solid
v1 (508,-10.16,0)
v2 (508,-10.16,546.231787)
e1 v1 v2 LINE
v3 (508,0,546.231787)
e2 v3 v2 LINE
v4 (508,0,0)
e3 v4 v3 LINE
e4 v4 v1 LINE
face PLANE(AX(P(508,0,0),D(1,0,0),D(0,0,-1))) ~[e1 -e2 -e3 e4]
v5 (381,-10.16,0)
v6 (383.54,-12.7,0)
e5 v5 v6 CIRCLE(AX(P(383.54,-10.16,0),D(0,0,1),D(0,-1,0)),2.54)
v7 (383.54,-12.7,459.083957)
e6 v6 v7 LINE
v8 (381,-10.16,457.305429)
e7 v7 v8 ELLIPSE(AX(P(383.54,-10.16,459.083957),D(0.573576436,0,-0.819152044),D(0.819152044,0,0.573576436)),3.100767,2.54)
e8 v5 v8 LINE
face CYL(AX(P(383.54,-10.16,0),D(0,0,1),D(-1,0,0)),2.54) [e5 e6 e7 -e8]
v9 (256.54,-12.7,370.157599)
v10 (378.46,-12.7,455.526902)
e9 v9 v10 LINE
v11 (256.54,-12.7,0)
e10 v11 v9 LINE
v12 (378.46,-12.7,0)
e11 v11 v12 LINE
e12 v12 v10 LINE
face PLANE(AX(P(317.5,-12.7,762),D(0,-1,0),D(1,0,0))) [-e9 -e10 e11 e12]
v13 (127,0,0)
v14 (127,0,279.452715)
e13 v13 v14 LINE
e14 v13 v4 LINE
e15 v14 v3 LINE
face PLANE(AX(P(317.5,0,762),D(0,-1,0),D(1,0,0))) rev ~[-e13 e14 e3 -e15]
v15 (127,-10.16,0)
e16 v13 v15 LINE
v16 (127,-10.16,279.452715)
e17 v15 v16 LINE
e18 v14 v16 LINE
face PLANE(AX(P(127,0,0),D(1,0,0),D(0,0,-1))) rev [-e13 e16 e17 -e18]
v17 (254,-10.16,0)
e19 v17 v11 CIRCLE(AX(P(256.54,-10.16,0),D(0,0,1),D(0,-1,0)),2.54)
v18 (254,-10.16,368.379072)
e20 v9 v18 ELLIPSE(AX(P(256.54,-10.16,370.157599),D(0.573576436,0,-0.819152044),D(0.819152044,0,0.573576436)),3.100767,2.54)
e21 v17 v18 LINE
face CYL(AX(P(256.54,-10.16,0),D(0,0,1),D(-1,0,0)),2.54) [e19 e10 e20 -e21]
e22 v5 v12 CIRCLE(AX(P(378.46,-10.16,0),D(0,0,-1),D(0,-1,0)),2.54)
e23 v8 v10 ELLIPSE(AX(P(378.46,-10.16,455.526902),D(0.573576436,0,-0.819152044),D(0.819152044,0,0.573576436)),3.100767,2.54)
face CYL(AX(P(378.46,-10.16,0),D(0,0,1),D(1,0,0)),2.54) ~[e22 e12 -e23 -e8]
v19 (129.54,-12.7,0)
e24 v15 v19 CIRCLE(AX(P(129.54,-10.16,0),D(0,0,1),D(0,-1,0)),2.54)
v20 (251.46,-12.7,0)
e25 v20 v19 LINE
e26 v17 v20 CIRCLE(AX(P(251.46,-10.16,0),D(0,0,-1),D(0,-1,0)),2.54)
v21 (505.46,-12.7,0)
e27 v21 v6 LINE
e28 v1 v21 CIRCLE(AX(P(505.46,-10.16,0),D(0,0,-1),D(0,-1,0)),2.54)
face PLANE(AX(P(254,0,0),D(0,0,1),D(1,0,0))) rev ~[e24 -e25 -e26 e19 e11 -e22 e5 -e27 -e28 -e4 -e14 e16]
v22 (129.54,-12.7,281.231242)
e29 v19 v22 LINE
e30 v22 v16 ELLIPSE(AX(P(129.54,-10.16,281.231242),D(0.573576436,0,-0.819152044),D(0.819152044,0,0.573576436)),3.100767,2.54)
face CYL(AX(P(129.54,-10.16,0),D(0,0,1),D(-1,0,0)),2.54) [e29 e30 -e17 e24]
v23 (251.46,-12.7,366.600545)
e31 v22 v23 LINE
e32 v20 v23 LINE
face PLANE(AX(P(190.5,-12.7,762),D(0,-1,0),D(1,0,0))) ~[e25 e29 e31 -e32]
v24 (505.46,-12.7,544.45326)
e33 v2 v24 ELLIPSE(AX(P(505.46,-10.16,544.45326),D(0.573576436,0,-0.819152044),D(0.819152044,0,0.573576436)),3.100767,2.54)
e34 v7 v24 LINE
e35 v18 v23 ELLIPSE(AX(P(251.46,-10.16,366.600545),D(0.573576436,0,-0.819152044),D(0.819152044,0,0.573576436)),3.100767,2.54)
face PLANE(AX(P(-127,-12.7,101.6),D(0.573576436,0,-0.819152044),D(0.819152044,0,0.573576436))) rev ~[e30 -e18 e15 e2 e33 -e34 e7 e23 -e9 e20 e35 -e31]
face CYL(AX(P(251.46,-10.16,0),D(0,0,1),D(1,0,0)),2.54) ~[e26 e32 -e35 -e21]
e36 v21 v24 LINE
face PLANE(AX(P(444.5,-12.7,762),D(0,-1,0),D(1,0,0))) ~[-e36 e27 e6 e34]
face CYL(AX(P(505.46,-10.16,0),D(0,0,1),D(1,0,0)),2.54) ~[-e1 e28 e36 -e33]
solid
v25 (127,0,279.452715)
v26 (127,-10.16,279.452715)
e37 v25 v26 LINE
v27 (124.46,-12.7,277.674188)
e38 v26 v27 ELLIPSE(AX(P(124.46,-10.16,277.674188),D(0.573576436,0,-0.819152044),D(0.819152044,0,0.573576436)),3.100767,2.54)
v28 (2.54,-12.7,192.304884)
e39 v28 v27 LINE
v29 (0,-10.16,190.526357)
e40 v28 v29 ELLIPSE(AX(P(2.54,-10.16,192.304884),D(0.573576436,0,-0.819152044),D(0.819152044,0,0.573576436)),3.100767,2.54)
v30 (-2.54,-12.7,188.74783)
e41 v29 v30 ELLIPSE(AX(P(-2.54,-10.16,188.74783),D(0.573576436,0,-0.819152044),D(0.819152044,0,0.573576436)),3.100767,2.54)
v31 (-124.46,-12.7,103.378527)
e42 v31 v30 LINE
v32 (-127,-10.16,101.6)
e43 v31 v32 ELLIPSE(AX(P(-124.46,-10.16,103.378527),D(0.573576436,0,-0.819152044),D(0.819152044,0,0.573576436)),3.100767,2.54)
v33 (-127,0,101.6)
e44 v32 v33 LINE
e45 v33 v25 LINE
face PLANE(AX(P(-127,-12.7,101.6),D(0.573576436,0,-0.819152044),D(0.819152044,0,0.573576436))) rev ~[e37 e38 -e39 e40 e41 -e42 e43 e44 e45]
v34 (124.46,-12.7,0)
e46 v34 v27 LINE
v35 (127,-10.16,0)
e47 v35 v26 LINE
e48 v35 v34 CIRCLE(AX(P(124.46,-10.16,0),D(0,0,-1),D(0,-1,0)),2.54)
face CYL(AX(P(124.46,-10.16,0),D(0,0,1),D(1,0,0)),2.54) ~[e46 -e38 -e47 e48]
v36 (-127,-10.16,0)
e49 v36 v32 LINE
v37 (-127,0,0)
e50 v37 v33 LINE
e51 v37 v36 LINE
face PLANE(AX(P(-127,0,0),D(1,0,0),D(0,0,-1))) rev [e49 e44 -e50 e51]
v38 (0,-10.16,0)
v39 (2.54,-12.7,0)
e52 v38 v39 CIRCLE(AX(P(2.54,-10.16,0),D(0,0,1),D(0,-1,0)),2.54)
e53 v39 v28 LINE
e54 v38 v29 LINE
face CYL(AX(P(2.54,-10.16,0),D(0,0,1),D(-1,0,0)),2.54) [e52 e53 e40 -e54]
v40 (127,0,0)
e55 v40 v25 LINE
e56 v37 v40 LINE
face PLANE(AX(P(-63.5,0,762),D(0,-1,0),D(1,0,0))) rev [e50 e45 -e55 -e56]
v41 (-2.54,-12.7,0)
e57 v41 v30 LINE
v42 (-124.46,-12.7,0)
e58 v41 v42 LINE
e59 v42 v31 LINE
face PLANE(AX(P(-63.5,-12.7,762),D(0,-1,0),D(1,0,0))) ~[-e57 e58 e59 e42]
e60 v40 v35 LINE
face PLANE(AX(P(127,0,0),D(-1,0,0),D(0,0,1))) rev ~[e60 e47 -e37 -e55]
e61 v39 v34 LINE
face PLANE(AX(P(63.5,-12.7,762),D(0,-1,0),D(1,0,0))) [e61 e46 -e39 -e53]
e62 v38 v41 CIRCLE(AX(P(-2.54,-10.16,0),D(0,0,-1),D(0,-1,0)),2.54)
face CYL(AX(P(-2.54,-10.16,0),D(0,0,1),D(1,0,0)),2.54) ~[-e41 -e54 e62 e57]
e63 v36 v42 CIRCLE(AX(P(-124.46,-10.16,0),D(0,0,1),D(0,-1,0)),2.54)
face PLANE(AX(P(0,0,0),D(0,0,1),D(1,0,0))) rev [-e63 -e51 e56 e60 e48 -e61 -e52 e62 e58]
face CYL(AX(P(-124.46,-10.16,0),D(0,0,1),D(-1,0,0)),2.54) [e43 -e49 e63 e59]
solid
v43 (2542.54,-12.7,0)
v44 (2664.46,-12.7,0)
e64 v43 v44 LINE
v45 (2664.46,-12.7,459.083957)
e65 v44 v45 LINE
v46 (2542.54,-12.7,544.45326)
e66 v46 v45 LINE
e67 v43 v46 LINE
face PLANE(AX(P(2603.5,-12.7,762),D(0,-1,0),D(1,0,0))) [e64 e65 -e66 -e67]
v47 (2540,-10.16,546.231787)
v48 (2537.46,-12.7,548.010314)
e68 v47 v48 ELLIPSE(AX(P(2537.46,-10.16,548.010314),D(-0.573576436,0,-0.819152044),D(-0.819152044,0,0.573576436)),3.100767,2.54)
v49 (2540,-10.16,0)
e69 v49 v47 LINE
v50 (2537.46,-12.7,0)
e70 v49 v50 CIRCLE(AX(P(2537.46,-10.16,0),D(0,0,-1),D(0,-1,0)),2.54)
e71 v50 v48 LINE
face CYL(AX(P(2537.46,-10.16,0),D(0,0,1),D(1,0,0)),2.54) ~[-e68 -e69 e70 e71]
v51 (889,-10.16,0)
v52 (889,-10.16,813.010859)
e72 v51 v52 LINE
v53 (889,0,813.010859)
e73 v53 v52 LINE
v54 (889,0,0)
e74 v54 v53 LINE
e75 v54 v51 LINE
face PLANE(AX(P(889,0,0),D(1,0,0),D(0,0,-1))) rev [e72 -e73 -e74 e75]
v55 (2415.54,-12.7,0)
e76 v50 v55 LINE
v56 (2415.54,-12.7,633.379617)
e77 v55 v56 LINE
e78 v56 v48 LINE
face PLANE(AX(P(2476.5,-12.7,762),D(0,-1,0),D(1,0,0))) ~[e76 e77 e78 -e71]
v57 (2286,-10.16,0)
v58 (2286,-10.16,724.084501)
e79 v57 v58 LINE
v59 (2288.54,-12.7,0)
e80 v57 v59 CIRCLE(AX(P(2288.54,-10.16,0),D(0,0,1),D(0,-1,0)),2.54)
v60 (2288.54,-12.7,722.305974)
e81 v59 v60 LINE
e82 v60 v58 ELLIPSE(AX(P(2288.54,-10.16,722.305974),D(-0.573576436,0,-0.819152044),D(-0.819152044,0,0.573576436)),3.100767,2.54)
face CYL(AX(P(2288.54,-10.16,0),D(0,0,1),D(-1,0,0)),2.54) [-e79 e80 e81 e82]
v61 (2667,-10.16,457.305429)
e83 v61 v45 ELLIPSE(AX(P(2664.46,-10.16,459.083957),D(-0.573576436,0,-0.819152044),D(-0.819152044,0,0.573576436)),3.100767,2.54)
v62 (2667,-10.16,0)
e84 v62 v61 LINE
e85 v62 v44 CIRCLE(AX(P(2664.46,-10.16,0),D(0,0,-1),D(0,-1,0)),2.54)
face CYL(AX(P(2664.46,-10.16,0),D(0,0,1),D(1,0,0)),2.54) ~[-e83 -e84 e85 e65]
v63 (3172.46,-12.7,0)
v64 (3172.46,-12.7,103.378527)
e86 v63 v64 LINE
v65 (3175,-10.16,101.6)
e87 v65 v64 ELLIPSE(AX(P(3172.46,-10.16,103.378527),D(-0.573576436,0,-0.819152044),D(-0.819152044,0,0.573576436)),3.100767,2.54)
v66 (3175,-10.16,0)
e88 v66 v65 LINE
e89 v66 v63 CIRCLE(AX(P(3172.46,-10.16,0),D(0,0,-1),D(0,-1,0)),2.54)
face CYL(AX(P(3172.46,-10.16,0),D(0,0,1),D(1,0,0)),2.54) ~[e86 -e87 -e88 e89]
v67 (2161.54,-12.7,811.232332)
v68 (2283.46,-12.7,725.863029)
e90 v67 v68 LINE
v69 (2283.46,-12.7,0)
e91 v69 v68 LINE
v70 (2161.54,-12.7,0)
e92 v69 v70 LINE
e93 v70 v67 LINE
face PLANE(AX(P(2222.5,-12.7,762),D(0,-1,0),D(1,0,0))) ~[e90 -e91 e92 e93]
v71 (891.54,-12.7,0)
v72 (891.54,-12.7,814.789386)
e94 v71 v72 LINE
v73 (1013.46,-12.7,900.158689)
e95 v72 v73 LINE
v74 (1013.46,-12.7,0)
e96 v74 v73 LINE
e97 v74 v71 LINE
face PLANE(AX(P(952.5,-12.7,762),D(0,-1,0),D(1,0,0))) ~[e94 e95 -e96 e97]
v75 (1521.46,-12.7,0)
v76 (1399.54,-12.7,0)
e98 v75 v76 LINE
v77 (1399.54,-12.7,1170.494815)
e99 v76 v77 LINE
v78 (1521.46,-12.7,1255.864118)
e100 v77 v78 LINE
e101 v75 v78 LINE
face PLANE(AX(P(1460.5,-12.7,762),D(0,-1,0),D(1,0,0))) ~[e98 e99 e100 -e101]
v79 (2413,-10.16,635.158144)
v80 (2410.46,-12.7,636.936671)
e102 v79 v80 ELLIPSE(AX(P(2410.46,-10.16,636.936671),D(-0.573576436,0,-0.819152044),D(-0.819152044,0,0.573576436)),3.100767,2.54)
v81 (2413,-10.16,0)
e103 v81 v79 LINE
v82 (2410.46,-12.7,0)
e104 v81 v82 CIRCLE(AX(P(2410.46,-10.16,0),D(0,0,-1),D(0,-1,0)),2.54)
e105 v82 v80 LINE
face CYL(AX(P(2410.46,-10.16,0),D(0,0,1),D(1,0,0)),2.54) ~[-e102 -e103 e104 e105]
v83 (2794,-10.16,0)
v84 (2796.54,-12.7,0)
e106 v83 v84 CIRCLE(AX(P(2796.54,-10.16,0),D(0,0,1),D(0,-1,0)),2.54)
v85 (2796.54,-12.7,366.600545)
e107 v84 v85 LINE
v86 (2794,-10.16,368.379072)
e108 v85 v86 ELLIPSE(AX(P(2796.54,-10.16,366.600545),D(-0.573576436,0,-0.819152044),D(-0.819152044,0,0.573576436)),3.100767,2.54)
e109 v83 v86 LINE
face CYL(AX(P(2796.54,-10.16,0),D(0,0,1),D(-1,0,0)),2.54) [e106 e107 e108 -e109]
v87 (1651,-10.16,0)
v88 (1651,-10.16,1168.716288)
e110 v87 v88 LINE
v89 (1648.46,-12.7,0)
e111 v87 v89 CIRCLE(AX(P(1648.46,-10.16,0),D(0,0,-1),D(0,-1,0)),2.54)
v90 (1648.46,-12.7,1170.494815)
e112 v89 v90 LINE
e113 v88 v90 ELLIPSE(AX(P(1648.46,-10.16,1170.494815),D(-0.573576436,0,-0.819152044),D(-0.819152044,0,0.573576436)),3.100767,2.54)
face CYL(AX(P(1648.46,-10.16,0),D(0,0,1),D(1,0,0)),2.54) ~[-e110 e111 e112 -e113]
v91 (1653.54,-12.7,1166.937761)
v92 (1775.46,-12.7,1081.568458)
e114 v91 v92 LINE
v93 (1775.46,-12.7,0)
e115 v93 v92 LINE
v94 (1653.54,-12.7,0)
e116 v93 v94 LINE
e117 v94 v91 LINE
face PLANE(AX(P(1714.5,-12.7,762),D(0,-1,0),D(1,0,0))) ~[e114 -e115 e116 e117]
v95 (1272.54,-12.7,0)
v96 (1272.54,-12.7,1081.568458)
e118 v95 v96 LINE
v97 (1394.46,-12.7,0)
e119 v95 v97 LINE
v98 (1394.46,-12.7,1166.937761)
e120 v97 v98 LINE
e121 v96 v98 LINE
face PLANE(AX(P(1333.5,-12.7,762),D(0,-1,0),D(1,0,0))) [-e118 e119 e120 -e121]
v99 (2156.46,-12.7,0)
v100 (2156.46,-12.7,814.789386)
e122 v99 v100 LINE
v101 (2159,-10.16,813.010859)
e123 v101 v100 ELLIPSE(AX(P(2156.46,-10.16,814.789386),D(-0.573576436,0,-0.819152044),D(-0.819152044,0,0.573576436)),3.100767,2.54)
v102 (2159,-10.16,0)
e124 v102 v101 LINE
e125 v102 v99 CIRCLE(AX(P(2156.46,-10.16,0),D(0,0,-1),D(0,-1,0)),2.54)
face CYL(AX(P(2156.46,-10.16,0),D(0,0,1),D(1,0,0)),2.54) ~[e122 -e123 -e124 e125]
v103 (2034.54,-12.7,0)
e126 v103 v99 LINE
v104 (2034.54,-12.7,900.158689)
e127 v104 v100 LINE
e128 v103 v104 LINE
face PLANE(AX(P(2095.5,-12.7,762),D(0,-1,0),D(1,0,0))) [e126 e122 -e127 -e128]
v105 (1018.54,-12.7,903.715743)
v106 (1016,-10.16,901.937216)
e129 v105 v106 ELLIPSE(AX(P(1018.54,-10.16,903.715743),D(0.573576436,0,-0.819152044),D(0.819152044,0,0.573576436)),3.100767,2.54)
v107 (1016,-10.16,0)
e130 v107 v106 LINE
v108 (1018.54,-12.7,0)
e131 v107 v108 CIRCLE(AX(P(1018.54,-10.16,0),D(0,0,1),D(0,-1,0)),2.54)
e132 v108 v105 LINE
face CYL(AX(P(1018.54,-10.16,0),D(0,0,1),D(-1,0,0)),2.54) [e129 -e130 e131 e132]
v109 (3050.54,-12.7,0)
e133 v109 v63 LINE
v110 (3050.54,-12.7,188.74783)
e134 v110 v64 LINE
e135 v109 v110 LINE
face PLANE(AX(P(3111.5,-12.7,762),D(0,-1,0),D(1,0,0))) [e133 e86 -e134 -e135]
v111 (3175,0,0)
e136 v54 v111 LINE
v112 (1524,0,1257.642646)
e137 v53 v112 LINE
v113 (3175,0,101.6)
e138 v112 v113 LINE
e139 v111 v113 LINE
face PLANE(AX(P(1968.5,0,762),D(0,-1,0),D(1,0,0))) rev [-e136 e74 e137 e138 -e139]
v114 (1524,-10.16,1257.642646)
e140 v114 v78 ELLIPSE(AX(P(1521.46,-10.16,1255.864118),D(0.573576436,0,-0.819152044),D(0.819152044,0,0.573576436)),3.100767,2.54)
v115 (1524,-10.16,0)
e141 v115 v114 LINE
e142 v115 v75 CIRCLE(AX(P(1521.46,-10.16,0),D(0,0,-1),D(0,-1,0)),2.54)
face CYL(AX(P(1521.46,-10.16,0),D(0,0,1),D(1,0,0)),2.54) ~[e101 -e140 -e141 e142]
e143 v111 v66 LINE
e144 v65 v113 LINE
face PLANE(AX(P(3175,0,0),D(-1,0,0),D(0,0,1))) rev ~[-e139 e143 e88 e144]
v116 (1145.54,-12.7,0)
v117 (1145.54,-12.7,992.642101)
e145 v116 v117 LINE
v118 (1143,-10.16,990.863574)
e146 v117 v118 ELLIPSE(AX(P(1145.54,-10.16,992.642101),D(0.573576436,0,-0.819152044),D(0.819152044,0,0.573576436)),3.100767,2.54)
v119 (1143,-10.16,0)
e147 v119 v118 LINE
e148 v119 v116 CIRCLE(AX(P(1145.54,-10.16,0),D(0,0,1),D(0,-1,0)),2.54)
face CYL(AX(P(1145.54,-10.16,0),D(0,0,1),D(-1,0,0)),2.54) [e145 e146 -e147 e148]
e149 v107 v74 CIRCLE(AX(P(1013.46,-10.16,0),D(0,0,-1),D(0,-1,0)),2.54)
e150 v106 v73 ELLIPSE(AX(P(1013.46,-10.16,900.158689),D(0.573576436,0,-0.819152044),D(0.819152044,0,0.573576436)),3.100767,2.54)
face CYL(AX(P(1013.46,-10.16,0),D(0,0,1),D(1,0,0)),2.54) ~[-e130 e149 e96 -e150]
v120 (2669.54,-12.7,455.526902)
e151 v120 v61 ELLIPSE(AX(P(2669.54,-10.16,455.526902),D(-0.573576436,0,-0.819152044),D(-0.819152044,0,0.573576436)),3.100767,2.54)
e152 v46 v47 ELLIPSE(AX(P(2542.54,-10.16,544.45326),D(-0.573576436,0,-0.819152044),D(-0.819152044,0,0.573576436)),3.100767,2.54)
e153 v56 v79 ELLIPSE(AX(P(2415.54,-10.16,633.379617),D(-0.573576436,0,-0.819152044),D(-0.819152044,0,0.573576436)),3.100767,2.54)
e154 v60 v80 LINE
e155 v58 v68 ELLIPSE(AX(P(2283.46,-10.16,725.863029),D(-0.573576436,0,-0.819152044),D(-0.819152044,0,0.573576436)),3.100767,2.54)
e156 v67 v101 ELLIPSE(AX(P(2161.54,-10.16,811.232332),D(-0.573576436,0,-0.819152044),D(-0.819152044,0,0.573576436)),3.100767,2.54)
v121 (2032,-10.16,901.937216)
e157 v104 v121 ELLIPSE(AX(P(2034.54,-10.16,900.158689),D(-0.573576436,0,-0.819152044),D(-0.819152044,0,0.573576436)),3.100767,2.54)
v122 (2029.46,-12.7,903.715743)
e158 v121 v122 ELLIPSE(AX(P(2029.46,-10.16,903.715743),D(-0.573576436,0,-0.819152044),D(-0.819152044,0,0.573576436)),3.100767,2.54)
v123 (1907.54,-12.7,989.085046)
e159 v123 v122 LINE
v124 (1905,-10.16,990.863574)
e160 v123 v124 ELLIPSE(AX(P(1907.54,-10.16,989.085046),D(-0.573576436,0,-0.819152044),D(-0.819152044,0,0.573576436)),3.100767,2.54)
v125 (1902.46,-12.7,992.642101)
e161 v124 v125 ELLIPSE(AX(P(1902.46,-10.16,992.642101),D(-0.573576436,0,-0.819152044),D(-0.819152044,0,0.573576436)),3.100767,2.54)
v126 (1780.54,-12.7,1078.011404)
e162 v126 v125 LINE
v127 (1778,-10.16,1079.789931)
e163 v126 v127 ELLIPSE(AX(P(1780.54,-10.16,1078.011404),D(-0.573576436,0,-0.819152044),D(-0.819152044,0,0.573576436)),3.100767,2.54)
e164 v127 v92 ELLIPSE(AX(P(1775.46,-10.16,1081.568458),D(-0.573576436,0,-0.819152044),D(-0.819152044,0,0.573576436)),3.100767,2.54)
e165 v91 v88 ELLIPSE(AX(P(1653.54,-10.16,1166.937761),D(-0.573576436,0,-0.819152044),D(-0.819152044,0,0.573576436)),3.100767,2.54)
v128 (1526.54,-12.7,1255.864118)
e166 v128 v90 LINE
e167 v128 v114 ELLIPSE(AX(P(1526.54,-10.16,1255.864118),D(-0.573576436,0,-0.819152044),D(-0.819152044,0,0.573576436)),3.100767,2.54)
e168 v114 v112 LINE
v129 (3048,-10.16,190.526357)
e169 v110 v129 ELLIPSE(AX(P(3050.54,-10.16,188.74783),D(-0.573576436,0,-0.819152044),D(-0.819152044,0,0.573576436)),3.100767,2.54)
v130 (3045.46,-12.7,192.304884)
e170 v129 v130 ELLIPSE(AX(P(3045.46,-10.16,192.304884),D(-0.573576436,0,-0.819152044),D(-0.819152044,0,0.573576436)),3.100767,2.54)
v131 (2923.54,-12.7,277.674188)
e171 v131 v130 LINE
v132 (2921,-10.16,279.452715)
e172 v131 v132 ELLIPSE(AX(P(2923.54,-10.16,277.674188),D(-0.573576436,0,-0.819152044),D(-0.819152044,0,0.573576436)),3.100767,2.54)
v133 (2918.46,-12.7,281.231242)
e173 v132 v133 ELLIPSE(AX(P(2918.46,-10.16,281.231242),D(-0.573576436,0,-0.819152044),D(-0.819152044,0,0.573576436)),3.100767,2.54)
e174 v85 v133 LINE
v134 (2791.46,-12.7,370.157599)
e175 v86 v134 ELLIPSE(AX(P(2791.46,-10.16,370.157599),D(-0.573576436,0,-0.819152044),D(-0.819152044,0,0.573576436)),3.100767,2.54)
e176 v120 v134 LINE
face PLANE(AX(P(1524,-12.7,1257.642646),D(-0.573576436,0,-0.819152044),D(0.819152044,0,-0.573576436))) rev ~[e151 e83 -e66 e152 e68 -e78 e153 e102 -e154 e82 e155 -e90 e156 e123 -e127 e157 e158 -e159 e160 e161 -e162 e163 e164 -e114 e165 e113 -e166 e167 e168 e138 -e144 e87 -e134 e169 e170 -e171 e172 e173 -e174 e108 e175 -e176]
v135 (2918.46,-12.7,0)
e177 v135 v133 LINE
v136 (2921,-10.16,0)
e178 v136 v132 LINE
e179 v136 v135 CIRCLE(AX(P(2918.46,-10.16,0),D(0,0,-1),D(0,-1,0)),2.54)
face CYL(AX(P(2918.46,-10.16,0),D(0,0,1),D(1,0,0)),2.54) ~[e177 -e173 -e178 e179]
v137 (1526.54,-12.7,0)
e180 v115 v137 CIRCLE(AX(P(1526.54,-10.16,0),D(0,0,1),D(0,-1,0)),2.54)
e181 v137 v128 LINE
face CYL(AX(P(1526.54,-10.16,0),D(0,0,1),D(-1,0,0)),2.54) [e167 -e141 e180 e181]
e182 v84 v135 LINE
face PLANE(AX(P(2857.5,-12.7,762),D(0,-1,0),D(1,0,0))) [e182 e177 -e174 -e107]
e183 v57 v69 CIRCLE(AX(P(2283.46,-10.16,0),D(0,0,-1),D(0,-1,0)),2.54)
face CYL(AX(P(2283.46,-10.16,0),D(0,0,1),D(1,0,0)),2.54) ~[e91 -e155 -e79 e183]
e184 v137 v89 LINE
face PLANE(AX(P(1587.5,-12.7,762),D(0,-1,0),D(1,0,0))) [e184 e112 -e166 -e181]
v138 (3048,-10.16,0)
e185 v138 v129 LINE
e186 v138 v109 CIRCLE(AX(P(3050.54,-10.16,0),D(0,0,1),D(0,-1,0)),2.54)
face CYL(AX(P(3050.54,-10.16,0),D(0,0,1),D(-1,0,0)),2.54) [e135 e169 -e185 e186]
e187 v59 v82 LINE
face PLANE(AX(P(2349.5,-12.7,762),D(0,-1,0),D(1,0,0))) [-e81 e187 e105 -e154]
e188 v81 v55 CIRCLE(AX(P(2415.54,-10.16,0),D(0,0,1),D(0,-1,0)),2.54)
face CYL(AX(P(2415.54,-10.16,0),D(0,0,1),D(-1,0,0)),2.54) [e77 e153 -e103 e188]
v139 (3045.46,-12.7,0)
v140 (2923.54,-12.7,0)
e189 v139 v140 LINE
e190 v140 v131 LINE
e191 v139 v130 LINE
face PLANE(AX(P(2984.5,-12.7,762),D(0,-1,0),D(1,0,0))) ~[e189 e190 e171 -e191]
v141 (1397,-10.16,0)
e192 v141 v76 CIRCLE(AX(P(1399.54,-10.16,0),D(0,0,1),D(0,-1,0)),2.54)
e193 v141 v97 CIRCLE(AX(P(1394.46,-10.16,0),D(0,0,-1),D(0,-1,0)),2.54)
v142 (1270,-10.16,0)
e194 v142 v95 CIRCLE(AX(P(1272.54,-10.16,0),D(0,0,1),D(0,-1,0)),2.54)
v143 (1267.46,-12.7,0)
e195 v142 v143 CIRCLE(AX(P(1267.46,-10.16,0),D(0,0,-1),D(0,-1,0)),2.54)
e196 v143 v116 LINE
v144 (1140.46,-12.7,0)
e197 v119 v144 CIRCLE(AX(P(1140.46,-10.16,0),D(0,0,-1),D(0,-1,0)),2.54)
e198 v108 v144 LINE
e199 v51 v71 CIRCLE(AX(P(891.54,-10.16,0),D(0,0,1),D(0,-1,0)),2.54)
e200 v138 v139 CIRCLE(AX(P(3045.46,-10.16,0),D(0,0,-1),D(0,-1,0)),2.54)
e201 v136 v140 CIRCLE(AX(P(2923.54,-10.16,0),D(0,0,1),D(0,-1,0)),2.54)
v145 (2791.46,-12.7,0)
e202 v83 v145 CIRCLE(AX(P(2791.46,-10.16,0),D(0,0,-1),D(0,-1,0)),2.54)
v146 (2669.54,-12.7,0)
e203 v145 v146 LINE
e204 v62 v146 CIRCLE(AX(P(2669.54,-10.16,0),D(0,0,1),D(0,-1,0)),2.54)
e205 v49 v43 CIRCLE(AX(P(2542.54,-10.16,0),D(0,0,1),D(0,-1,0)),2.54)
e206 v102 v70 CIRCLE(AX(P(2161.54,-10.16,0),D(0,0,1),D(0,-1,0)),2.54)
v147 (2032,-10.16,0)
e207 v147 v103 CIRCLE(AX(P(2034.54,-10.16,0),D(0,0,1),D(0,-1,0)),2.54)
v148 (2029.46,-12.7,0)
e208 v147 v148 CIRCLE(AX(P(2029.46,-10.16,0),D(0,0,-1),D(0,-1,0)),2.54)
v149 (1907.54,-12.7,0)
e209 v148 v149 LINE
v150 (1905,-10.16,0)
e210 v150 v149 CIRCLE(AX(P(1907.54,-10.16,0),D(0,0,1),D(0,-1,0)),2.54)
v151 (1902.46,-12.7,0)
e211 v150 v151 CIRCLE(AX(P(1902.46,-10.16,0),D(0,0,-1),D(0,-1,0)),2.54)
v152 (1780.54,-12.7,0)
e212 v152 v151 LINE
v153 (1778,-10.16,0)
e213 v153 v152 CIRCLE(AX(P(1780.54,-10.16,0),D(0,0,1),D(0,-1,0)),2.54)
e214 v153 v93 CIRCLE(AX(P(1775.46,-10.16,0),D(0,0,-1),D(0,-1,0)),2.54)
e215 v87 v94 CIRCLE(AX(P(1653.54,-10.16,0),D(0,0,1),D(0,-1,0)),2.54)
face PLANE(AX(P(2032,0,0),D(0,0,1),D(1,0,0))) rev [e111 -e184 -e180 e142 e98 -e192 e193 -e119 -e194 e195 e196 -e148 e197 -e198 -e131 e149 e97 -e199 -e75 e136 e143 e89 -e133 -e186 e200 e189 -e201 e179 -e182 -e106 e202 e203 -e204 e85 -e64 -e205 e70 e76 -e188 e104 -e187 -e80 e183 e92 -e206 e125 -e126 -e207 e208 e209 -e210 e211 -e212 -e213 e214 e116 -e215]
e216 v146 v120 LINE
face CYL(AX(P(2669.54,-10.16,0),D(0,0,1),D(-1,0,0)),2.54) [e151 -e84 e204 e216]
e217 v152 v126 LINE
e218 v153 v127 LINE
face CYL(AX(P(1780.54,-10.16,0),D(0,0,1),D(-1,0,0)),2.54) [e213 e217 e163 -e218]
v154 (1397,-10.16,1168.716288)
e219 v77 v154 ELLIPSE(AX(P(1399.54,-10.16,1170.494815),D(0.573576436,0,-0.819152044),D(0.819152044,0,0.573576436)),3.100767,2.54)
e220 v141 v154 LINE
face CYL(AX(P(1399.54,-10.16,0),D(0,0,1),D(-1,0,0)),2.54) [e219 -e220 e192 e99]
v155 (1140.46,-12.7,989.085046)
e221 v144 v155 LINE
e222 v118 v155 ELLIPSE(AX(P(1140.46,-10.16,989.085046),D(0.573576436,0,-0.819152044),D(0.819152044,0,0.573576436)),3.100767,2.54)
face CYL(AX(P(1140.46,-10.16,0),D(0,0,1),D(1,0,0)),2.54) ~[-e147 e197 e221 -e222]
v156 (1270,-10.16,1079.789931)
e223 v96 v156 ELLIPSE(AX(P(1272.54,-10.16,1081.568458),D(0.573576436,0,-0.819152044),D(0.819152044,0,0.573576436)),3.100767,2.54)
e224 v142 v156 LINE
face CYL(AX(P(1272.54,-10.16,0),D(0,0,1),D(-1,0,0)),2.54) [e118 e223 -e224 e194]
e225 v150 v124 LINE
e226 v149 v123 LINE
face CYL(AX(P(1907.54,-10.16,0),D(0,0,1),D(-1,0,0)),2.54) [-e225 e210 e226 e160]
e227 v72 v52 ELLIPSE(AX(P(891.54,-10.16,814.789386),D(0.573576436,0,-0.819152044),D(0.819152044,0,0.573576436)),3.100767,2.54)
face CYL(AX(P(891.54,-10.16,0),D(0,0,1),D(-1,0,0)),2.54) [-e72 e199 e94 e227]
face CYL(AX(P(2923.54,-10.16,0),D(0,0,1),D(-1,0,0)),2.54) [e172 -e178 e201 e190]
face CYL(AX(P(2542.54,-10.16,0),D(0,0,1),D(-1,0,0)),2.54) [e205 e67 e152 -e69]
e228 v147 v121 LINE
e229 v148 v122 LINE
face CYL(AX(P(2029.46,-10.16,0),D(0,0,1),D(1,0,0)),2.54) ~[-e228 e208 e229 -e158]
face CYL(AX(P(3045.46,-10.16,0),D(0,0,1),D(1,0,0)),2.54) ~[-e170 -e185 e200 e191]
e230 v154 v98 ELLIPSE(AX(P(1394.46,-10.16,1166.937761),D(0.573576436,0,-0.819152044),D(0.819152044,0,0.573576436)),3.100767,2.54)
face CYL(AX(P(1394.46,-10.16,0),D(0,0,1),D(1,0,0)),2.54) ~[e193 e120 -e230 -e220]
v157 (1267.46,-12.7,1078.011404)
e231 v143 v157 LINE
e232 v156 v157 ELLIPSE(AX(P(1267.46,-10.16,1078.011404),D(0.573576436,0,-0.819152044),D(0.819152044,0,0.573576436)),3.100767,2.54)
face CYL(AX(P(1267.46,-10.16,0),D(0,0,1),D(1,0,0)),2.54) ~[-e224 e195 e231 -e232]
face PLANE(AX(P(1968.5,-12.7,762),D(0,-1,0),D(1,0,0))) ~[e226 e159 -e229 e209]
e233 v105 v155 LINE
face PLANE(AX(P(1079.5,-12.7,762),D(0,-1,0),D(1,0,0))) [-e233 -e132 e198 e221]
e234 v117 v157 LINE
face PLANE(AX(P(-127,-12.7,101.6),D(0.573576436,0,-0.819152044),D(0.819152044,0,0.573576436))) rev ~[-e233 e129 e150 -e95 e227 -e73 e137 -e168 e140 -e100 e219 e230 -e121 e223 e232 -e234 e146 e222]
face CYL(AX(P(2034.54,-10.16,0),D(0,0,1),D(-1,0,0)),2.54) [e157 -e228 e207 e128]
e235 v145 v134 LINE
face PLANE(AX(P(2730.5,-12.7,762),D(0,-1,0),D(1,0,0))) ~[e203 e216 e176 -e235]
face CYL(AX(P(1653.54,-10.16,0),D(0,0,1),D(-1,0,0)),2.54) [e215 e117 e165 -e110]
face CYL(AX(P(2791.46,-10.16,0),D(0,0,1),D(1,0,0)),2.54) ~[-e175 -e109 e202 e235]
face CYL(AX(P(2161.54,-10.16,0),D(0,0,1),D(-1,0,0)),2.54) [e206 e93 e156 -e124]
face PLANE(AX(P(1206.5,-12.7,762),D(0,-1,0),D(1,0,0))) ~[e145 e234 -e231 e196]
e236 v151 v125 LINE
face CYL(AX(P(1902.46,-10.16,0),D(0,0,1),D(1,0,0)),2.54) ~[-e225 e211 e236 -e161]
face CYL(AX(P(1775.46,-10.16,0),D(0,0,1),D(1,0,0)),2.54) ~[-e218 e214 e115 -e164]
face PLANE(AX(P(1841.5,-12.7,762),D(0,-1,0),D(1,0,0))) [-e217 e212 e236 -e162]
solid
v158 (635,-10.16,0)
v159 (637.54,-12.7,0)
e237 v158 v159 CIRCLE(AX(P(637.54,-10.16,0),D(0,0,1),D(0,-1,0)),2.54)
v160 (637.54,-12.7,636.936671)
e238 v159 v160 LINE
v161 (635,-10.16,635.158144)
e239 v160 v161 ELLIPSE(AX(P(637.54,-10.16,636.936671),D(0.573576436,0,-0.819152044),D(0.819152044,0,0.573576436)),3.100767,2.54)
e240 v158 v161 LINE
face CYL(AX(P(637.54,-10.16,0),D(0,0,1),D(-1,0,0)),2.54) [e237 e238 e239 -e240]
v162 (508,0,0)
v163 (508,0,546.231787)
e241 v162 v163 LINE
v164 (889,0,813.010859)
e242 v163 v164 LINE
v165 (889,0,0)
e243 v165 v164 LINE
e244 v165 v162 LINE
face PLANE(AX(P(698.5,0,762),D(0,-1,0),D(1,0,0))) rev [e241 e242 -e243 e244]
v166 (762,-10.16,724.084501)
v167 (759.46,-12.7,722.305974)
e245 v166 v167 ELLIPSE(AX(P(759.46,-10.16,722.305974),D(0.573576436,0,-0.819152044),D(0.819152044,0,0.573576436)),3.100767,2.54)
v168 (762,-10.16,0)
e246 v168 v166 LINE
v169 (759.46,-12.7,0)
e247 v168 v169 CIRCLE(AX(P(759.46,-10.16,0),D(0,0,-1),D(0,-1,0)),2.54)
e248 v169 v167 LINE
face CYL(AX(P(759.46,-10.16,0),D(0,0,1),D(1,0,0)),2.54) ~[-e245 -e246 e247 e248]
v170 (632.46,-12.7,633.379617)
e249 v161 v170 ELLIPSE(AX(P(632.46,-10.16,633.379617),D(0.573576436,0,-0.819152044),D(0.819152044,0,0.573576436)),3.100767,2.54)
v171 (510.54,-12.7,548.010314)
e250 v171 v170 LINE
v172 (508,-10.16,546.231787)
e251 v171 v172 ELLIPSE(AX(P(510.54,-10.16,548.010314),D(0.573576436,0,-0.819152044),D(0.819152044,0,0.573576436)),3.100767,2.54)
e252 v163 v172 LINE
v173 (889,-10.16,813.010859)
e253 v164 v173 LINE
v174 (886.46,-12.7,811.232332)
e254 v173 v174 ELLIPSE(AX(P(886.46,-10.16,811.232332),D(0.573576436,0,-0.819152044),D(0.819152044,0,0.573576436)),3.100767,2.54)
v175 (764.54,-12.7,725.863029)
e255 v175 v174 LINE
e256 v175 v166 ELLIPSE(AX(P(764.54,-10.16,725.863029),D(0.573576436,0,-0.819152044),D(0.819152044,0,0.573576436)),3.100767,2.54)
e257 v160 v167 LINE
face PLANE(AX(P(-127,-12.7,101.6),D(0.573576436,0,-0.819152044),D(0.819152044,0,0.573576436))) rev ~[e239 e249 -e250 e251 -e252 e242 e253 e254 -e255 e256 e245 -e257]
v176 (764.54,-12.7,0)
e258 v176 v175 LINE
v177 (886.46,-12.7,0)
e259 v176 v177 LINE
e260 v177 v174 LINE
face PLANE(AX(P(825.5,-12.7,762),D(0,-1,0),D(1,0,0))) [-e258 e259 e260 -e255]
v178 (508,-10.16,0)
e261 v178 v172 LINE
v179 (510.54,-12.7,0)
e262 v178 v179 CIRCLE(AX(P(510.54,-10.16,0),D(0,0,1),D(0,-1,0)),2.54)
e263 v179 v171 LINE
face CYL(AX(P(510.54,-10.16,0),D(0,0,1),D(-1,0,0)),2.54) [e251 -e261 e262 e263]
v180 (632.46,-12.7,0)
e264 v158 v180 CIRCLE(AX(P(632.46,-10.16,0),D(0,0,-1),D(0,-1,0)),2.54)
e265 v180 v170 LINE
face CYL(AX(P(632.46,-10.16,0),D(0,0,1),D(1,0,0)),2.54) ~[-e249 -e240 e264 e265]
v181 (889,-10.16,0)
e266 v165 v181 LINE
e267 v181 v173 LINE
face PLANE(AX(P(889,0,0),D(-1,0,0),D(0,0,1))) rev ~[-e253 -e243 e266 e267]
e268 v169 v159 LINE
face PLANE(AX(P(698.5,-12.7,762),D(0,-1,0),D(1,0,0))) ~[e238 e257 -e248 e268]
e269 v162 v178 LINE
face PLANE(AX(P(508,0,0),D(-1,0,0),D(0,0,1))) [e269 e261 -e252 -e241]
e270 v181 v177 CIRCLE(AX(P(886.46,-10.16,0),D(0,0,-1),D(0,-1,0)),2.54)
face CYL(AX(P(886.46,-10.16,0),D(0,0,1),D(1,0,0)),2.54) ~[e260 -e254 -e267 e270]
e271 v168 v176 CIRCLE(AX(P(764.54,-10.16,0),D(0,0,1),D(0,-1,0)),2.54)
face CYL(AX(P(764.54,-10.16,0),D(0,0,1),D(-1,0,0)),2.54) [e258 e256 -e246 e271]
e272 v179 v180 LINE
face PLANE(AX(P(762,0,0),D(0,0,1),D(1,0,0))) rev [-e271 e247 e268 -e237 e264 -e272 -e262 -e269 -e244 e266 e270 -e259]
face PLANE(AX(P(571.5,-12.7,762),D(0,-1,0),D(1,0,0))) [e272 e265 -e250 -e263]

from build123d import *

# Parameters (mm, degrees)
F0_W      = 127
F0_H      = 1524
F1_DEPTH  = 12.7
F2_R      = 2.54
F10_DEPTH = 12.7


with BuildPart() as f1:
    # F0 (on Front) → F1 (new body)
    with BuildSketch(Plane.XZ):
        with Locations((63.5, 762)):
            Rectangle(F0_W, F0_H)
    extrude(amount=F1_DEPTH)

    # F2
    f2_edges = [f1.edges().sort_by_distance(p)[0] for p in [
        (0, -12.7, 762),
        (127, -12.7, 762),
    ]]
    fillet(f2_edges, radius=F2_R)


with BuildPart() as f3_1:
    # F3: instance of F1
    add(f1.part.mirror(Plane(origin=(127, -5.08, 762), x_dir=(0, 1, 0), z_dir=(1, 0, 0))))



with BuildPart() as f3_1_1:
    add(f3_1.part)
    # F4: F1, F3_1 across face
    add(f1.part.mirror(Plane(origin=(254, -5.08, 762), x_dir=(0, 1, 0), z_dir=(1, 0, 0))))
    add(f3_1.part.mirror(Plane(origin=(254, -5.08, 762), x_dir=(0, 1, 0), z_dir=(1, 0, 0))))


with BuildPart() as f5_1:
    # F5: instance of F1
    add(f1.part.mirror(Plane(origin=(508, -5.08, 762), x_dir=(0, 1, 0), z_dir=(1, 0, 0))))



with BuildPart() as f5_2:
    # F5: instance of F3_1
    add(f3_1_1.part.mirror(Plane(origin=(508, -5.08, 762), x_dir=(0, 1, 0), z_dir=(1, 0, 0))))


with BuildPart() as f5_1_1:
    add(f5_1.part)
    # F6: F5_2, F5_1 across face
    add(f5_2.part.mirror(Plane(origin=(1016, -5.08, 762), x_dir=(0, 1, 0), z_dir=(1, 0, 0))))
    add(f5_1.part.mirror(Plane(origin=(1016, -5.08, 762), x_dir=(0, 1, 0), z_dir=(1, 0, 0))))



with BuildPart() as f1_1:
    add(f1.part)

    # F7: F1 across face
    add(f1.part.mirror(Plane(origin=(0, -5.08, 762), x_dir=(0, -1, 0), z_dir=(-1, 0, 0))))


with BuildPart() as f5_1_2:
    add(f5_1_1.part)
    # F8: F1, F3_1, F5_2, F5_1 across face
    add(f1_1.part.mirror(Plane(origin=(1524, -5.08, 762), x_dir=(0, 1, 0), z_dir=(1, 0, 0))))
    add(f3_1_1.part.mirror(Plane(origin=(1524, -5.08, 762), x_dir=(0, 1, 0), z_dir=(1, 0, 0))))
    add(f5_2.part.mirror(Plane(origin=(1524, -5.08, 762), x_dir=(0, 1, 0), z_dir=(1, 0, 0))))
    add(f5_1_1.part.mirror(Plane(origin=(1524, -5.08, 762), x_dir=(0, 1, 0), z_dir=(1, 0, 0))))


with BuildPart() as f10:
    # F9 (on face) → F10 (new body)
    with BuildSketch(Plane.XZ.offset(12.7)):
        Polygon((-202.0635317546, 1586.9170427322), (-127, 101.6), (1524, 1257.6426455842), (1524, 1569.7422540038), align=None)
        Polygon((1524, 1569.7422540038), (1524, 1257.6426455842), (3175, 101.6), (3229.8866648692, 1552.7682304382), align=None)
    extrude(amount=-F10_DEPTH)


with BuildPart() as f1_2:
    add(f1_1.part)

    # F11: cut F10
    add(f10.part, mode=Mode.SUBTRACT)


with BuildPart() as f3_1_2:
    add(f3_1_1.part)

    # F11: cut F10
    add(f10.part, mode=Mode.SUBTRACT)


with BuildPart() as f5_2_1:
    add(f5_2.part)

    # F11: cut F10
    add(f10.part, mode=Mode.SUBTRACT)


with BuildPart() as f5_1_3:
    add(f5_1_2.part)

    # F11: cut F10
    add(f10.part, mode=Mode.SUBTRACT)


solid = Compound([f1_2.part, f3_1_2.part, f5_2_1.part, f5_1_3.part])
